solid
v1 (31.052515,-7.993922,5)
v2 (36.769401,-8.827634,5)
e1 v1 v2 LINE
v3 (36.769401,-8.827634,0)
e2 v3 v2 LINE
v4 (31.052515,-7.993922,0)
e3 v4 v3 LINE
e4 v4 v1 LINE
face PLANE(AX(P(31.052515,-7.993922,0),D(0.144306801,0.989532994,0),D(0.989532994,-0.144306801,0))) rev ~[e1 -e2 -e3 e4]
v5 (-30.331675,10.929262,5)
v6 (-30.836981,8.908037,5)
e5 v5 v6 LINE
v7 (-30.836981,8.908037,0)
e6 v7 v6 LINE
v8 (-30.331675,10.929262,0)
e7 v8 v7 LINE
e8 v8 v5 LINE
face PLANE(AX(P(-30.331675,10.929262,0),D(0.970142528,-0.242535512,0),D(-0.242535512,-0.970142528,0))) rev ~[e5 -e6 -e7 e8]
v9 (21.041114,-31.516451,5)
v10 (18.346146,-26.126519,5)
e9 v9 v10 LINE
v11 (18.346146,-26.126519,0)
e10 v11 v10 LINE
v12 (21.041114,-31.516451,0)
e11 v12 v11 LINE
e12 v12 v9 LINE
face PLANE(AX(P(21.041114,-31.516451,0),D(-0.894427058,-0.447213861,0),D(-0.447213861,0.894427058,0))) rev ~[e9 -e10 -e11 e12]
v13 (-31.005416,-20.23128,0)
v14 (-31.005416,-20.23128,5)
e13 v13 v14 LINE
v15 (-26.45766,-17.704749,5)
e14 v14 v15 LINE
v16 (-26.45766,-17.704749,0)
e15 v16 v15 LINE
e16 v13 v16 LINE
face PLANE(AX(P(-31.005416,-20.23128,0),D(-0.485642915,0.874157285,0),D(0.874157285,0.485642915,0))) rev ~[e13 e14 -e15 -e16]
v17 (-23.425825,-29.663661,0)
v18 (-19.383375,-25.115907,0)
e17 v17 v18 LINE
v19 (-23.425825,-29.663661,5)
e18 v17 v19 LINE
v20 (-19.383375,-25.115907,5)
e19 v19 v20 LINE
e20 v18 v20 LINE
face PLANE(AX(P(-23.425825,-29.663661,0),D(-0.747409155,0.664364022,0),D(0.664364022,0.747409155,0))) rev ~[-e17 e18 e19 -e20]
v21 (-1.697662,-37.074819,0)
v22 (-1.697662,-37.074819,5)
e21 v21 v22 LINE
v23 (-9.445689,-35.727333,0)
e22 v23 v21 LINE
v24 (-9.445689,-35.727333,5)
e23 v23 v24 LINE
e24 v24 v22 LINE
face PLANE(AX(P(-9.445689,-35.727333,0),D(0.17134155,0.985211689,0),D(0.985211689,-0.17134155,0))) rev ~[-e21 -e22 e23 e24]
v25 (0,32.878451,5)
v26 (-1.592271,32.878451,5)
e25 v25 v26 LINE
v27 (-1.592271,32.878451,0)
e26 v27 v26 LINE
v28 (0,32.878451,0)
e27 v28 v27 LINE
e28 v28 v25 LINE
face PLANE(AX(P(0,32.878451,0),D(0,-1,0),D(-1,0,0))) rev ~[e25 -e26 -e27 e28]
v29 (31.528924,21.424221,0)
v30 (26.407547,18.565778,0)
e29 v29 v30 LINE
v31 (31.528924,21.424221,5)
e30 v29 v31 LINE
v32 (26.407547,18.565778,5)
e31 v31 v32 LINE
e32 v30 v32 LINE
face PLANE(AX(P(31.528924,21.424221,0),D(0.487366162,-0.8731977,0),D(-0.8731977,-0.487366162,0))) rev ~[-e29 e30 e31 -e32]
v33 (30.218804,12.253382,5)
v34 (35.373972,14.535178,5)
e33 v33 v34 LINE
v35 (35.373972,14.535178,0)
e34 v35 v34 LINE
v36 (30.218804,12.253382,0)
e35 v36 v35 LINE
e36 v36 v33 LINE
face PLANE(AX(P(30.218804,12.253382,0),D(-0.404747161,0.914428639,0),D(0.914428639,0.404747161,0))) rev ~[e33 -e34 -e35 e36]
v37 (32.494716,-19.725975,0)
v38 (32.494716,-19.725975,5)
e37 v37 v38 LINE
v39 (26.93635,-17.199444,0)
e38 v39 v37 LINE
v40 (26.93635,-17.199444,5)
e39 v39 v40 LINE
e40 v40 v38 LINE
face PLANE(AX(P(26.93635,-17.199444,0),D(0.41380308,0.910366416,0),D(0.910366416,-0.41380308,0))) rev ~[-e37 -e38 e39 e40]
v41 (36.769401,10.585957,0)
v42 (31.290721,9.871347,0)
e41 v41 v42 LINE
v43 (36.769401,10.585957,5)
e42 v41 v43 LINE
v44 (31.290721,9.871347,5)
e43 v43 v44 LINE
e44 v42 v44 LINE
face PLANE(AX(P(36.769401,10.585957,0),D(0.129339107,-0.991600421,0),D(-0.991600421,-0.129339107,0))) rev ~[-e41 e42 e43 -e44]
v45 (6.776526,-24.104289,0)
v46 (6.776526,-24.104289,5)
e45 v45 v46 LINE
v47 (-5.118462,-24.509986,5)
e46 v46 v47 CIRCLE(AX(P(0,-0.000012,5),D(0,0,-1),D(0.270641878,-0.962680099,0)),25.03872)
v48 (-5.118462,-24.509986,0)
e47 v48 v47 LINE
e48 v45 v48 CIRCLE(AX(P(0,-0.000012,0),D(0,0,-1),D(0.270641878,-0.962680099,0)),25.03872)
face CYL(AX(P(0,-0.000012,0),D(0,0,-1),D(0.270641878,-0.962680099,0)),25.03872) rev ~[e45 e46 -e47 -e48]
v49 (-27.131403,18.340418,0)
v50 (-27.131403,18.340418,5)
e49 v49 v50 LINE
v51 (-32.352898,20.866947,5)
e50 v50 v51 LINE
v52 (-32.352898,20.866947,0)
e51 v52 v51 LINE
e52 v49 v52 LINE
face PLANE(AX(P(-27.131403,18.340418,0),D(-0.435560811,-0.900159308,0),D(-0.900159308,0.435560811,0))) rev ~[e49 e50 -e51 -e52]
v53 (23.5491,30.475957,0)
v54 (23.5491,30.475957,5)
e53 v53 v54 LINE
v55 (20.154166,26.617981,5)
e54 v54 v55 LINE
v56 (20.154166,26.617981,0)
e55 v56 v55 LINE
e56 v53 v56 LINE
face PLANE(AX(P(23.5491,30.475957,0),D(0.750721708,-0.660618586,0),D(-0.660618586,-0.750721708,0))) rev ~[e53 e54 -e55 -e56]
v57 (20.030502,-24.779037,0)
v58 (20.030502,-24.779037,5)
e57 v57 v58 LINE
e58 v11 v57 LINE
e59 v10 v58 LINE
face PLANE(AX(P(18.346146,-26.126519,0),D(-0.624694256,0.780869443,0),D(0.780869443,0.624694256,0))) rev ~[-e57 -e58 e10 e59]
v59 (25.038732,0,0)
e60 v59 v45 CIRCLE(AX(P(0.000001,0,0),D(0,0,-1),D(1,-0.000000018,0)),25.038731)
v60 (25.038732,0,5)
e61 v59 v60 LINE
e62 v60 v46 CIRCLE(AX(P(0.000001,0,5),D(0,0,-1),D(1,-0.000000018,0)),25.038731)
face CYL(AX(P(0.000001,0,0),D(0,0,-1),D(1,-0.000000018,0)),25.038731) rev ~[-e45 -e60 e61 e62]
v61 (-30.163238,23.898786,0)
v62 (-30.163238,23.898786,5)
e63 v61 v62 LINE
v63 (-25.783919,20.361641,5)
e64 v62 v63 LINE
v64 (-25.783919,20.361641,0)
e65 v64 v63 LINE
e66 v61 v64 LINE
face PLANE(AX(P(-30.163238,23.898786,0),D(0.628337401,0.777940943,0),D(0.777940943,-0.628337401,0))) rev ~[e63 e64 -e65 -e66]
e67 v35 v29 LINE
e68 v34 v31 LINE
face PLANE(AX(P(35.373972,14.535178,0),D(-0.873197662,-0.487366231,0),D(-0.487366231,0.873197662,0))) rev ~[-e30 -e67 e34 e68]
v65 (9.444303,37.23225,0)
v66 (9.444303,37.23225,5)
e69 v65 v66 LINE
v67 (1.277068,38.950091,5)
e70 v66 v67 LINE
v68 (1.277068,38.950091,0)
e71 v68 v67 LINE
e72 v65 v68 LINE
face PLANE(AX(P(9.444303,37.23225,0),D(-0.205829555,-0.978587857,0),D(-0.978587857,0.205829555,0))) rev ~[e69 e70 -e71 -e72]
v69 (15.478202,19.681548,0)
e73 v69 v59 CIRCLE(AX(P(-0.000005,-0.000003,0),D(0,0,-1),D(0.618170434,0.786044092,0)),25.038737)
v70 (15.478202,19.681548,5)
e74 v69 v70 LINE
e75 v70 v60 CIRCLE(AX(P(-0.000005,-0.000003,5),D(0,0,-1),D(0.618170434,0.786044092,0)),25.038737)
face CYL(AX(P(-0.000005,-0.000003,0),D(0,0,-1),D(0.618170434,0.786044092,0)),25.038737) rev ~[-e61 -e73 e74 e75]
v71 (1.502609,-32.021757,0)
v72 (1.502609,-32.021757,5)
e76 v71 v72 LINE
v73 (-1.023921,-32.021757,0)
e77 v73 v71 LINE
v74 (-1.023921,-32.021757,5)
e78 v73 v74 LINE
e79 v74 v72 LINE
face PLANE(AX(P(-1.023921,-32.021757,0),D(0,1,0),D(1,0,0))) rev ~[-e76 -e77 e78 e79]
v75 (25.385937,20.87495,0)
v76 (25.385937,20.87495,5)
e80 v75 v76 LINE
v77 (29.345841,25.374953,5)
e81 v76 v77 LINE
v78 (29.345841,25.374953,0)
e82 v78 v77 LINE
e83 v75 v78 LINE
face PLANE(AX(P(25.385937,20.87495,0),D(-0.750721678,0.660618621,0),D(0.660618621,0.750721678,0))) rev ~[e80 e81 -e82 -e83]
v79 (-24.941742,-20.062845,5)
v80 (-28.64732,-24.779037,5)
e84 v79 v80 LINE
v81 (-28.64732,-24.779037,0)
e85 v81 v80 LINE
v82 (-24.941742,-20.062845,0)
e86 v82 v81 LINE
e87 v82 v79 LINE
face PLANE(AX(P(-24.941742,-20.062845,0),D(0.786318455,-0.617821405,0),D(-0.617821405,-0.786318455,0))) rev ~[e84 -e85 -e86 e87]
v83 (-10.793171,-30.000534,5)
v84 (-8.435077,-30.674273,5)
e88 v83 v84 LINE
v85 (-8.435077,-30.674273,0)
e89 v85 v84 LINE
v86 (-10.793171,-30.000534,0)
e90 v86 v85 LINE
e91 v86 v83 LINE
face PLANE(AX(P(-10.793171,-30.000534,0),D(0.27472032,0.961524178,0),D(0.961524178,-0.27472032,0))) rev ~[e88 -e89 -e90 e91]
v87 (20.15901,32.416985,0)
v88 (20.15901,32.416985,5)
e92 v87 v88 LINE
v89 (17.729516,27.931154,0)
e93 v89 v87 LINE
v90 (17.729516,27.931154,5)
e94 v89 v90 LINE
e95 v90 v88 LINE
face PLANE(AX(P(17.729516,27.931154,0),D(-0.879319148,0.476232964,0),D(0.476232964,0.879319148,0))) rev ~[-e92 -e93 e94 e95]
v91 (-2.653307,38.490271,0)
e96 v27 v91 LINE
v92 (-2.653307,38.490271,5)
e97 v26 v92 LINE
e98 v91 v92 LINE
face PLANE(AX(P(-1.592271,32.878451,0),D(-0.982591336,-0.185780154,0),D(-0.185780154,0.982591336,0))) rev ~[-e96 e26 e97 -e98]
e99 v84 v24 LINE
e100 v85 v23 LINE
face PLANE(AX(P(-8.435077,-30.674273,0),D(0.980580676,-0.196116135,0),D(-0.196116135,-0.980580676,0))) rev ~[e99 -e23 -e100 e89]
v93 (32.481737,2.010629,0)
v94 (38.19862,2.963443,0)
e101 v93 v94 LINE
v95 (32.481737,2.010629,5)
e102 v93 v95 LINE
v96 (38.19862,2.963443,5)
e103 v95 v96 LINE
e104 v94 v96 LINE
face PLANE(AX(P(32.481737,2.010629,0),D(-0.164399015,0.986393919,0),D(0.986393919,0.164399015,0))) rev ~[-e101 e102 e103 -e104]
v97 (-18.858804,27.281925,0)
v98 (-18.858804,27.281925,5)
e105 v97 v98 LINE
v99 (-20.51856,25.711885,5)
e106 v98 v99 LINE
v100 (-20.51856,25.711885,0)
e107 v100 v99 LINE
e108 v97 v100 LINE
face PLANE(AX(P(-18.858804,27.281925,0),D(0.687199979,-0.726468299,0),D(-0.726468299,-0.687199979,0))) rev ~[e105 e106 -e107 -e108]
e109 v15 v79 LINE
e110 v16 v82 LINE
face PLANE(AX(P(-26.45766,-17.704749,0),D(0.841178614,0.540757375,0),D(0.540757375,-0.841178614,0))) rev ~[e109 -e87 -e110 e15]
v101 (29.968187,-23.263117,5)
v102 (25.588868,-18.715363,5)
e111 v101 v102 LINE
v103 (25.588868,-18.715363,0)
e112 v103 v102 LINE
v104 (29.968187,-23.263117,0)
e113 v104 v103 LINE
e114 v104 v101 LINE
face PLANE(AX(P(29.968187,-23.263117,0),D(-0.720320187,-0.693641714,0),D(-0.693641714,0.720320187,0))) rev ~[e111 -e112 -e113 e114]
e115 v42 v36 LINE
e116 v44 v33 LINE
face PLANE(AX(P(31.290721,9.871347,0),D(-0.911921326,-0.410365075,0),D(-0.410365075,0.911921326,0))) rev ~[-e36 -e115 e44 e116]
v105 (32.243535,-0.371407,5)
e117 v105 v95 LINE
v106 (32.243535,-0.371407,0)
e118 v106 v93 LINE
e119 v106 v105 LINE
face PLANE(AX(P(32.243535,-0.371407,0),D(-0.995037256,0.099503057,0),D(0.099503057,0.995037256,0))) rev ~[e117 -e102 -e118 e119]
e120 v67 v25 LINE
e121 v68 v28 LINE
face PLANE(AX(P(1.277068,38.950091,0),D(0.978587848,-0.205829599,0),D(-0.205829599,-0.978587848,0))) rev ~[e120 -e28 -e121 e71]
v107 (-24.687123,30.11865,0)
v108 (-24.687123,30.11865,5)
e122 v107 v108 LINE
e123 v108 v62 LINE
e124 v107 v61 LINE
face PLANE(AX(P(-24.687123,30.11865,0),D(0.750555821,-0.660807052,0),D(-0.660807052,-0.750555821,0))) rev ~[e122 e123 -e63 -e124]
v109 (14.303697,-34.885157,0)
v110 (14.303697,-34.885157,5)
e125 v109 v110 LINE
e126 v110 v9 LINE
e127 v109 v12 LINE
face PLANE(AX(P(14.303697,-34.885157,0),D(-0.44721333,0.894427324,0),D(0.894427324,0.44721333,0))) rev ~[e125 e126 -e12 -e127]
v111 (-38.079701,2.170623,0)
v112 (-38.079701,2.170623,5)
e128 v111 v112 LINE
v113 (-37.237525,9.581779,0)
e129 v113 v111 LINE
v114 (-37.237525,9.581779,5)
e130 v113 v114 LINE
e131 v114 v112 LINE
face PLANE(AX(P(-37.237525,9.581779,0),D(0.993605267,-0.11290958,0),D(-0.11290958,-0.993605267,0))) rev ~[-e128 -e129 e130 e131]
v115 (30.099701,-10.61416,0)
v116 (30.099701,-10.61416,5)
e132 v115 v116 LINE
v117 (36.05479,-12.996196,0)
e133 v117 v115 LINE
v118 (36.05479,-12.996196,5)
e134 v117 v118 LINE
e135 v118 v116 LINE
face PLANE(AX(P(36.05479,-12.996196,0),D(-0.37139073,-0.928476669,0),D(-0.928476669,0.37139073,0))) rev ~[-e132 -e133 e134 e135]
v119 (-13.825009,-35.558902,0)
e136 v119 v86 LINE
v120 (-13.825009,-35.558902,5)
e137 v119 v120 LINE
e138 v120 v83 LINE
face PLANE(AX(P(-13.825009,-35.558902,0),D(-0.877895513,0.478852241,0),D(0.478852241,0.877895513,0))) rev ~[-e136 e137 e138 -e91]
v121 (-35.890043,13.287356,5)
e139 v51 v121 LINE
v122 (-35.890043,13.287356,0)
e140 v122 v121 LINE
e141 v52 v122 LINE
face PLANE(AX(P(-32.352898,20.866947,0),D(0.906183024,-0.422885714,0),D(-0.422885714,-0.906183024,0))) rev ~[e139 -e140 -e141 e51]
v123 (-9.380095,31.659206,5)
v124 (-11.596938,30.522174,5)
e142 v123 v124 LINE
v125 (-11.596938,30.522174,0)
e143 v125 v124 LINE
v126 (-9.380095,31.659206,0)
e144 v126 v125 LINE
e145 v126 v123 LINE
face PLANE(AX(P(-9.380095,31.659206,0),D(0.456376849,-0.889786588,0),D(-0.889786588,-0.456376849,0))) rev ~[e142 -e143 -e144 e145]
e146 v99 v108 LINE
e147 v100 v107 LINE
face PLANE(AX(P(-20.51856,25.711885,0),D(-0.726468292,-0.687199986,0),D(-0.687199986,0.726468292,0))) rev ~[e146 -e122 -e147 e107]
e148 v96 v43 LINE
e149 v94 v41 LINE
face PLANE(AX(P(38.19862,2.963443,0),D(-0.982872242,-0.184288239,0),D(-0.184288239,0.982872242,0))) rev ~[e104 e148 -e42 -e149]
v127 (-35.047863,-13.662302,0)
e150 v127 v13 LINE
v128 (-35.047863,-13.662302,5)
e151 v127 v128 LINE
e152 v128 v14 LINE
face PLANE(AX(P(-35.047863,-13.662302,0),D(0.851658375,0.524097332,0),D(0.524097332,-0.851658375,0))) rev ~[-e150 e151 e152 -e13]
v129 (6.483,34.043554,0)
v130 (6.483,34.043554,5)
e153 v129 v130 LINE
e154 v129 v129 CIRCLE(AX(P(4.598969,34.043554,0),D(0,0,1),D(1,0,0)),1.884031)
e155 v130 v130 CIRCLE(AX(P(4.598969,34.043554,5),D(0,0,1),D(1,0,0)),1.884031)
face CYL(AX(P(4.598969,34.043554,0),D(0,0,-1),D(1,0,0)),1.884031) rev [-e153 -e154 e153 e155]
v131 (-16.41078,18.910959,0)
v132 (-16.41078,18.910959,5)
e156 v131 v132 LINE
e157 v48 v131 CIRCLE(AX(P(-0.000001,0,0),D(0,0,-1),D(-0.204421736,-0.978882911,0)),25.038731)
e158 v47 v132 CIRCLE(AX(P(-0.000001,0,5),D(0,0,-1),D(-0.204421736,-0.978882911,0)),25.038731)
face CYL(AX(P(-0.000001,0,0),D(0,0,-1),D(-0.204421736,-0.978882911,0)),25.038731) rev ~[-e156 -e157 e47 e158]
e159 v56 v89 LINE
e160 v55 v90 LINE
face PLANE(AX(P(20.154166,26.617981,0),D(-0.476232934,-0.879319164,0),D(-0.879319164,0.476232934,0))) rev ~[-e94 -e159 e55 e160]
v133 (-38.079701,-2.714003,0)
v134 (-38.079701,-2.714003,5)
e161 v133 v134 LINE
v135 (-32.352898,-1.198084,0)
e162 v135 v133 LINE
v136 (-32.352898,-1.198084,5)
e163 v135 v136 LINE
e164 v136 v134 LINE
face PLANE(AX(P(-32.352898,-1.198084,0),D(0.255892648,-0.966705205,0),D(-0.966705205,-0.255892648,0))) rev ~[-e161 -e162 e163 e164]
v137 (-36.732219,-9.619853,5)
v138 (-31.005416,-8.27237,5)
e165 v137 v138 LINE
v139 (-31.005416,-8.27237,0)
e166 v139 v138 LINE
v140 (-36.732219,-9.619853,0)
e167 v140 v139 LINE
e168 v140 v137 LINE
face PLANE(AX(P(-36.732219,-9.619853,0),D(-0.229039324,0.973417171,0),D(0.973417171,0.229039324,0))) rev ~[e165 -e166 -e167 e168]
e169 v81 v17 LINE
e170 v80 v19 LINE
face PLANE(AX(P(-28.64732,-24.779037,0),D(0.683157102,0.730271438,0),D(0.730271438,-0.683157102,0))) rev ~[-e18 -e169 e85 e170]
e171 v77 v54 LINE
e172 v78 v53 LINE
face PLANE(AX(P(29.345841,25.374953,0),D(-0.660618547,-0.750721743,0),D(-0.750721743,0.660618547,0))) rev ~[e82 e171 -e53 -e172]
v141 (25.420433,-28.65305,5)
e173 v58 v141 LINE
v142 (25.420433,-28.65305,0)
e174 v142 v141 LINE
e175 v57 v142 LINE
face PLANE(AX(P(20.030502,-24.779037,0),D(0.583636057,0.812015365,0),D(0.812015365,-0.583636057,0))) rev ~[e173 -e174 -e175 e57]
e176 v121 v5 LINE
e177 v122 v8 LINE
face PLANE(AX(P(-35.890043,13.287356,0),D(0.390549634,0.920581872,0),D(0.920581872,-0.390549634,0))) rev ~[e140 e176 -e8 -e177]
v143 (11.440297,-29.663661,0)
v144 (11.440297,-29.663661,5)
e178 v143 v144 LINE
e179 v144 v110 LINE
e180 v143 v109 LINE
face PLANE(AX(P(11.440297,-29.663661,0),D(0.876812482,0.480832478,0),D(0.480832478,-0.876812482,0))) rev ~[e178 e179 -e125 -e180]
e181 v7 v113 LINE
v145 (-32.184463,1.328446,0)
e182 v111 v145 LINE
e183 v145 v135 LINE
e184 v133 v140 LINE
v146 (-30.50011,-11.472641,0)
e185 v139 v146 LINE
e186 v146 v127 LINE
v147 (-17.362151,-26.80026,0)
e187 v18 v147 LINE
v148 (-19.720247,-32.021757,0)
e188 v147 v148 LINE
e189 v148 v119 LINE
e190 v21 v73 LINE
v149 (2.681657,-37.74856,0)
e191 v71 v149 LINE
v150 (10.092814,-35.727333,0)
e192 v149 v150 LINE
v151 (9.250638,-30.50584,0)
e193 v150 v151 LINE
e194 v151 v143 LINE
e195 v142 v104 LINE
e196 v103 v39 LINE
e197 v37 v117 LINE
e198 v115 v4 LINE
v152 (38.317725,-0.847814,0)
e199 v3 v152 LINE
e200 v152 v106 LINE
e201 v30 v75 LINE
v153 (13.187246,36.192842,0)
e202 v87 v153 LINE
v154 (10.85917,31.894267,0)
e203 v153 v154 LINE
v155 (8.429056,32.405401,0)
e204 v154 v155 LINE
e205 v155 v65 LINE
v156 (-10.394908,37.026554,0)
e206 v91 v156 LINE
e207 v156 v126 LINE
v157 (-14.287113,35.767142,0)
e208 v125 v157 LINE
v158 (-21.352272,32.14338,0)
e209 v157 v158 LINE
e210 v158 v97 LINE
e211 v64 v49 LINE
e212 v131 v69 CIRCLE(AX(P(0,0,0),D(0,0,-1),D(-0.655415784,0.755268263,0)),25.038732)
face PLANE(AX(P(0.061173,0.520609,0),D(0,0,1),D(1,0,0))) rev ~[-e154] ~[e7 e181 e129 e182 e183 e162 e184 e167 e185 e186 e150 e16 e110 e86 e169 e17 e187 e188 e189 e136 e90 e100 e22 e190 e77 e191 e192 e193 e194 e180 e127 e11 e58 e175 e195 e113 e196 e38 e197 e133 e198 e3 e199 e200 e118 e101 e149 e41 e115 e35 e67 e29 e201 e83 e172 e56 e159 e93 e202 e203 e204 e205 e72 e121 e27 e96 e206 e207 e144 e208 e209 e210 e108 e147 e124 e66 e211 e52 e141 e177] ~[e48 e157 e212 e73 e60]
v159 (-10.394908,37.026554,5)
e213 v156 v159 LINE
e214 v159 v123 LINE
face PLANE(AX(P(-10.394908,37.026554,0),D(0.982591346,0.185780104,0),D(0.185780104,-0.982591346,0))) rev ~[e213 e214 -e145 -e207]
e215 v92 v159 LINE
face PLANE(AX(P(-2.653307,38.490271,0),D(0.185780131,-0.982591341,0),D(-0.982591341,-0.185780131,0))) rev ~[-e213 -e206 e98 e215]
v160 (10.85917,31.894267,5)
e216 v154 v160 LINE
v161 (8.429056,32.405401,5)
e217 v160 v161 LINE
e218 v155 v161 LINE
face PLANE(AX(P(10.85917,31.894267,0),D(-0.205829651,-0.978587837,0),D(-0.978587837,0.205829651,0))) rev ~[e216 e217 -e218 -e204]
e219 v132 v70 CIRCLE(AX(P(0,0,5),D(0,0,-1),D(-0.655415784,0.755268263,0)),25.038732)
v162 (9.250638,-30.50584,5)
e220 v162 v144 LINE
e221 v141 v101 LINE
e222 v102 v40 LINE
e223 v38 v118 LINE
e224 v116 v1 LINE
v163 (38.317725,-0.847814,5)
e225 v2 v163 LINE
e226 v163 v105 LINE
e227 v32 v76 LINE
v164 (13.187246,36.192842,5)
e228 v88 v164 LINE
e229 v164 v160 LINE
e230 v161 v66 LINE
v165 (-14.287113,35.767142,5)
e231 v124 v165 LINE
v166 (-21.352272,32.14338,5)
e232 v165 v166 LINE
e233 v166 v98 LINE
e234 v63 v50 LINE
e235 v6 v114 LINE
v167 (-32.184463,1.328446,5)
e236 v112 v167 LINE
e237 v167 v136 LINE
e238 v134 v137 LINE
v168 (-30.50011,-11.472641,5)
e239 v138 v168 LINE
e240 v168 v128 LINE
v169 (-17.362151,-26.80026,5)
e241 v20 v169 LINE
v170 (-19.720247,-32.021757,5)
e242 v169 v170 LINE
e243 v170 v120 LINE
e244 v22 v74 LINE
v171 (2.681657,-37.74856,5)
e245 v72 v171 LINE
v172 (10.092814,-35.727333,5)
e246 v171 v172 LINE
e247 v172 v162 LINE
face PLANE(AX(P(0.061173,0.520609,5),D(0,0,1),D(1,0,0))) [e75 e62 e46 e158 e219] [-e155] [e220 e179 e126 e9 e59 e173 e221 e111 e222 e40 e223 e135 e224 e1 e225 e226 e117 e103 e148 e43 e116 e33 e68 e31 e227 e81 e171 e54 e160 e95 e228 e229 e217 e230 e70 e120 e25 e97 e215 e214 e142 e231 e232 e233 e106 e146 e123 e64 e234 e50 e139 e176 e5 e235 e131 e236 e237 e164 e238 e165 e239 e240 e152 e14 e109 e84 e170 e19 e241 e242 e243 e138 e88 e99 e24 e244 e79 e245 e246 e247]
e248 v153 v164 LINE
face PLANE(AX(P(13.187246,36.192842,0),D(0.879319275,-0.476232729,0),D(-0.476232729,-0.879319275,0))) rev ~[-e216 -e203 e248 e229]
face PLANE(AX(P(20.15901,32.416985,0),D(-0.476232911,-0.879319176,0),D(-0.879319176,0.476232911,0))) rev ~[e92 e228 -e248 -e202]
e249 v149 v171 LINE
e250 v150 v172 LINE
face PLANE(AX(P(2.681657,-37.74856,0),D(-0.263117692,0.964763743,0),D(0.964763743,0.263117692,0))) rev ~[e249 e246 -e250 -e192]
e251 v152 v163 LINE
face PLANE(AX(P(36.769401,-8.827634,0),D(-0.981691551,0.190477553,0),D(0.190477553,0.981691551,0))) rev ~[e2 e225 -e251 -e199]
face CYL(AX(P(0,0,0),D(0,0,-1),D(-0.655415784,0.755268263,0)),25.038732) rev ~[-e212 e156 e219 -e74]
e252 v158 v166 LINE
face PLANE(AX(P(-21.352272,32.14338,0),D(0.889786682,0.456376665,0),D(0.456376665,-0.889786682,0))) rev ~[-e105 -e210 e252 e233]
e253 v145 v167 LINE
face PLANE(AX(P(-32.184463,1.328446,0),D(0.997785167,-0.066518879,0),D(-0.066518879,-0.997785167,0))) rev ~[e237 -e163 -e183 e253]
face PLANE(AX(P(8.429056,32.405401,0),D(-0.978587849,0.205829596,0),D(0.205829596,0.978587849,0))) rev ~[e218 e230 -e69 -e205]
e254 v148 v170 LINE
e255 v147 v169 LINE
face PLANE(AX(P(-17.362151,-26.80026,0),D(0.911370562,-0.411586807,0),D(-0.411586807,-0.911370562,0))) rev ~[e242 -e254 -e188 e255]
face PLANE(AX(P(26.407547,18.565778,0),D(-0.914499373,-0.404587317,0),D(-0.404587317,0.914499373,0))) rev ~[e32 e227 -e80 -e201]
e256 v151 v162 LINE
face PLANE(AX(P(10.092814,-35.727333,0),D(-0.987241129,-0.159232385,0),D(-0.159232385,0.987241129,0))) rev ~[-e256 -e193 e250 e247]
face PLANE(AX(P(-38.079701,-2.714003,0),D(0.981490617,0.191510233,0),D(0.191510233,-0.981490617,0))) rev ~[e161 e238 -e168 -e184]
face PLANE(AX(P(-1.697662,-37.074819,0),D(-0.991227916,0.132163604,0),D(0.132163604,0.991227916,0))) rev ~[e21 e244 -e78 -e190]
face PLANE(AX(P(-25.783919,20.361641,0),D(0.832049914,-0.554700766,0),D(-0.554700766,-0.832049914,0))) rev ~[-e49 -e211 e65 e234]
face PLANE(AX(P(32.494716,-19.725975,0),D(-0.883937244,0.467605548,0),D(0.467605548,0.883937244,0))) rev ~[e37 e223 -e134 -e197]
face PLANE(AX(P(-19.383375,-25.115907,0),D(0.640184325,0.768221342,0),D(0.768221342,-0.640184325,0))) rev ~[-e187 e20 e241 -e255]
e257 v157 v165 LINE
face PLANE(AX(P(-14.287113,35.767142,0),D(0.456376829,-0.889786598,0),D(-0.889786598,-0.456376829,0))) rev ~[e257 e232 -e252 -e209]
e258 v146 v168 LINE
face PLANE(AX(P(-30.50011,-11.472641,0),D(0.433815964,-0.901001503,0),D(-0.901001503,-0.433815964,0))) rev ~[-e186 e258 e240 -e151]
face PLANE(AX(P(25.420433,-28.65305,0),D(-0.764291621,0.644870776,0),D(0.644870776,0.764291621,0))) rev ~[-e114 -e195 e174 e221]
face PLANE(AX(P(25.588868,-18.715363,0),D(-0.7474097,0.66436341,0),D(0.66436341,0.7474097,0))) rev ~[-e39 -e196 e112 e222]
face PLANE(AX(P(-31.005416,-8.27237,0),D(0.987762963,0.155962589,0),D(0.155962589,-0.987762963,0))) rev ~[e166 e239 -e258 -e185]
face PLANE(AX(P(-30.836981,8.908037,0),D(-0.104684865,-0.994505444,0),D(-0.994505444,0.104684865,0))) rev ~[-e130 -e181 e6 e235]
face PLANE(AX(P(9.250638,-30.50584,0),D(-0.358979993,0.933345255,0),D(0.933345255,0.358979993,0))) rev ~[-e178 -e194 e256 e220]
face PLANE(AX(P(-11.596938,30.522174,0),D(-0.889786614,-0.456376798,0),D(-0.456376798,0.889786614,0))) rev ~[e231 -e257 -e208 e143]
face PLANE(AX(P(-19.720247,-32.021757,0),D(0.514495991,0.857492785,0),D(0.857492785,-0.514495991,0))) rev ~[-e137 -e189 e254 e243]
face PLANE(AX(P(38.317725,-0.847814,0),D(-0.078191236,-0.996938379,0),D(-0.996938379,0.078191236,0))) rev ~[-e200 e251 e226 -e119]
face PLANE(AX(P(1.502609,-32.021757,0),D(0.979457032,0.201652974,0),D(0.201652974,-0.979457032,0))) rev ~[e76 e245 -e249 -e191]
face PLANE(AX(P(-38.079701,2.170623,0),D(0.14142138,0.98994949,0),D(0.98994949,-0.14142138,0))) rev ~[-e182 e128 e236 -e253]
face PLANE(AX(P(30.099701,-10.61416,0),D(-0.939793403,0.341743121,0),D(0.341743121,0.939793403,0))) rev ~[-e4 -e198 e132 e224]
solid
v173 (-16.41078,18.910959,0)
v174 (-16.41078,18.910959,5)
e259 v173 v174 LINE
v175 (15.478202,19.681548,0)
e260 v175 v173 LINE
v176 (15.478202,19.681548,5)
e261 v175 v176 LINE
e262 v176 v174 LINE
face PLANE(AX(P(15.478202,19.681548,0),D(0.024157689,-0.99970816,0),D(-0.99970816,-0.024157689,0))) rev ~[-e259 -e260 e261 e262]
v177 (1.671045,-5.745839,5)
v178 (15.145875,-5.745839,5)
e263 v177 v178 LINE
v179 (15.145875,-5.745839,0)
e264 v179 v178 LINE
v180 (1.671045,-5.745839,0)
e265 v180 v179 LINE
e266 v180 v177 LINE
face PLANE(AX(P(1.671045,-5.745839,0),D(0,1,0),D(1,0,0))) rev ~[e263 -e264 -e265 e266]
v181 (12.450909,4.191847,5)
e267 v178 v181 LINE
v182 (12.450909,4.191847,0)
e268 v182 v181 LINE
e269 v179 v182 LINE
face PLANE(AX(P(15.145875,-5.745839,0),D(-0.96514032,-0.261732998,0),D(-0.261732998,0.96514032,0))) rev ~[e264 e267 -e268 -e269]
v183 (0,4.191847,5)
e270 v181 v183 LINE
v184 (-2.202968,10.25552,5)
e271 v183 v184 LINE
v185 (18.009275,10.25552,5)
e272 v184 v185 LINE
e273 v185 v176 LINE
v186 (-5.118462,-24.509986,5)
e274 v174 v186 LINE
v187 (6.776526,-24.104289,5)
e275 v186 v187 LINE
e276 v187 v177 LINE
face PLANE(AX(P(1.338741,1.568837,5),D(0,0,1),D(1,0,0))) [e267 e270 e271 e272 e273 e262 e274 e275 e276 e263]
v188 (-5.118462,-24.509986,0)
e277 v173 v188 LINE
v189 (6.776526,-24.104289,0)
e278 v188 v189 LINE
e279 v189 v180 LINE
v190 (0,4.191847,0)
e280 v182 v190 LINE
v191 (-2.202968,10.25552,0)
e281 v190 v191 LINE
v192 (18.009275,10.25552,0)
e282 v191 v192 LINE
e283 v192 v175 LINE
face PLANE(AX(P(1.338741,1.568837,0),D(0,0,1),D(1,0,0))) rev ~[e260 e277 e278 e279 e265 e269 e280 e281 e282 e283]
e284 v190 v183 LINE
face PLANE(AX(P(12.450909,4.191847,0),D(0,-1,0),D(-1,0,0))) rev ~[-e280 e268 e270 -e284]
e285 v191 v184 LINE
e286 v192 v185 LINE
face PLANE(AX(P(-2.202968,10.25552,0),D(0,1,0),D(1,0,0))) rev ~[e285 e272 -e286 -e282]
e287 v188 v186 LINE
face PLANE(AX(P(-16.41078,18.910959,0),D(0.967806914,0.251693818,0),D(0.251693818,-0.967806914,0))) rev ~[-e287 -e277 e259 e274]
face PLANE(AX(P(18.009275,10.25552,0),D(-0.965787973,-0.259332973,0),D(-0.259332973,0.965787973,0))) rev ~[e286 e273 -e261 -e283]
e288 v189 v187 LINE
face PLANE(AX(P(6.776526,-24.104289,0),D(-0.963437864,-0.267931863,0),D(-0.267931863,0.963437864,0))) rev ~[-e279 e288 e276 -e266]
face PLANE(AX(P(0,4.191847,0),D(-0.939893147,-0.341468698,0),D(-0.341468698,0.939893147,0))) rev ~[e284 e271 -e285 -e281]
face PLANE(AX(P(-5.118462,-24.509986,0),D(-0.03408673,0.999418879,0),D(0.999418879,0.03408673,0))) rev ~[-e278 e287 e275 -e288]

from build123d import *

# Parameters (mm, degrees)
F0_R     = 1.884031
F1_DEPTH = 5


with BuildPart() as f1:
    # F0 (on Top) → F1 (new body)
    with BuildSketch(Plane.XY):
        Polygon((-20.51856, 25.711885), (-24.687123, 30.11865), (-30.163238, 23.898786), (-25.783919, 20.361641), (-27.131403, 18.340418), (-32.352898, 20.866947), (-35.890043, 13.287356), (-30.331675, 10.929262), (-30.836981, 8.908037), (-37.237525, 9.581779), (-38.079701, 2.170623), (-32.184463, 1.328446), (-32.352898, -1.198084), (-38.079701, -2.714003), (-36.732219, -9.619853), (-31.005416, -8.27237), (-30.50011, -11.472641), (-35.047863, -13.662302), (-31.005416, -20.23128), (-26.45766, -17.704749), (-24.941742, -20.062845), (-28.64732, -24.779037), (-23.425825, -29.663661), (-19.383375, -25.115907), (-17.362151, -26.80026), (-19.720247, -32.021757), (-13.825009, -35.558902), (-10.793171, -30.000534), (-8.435077, -30.674273), (-9.445689, -35.727333), (-1.697662, -37.074819), (-1.023921, -32.021757), (1.502609, -32.021757), (2.681657, -37.74856), (10.092814, -35.727333), (9.250638, -30.50584), (11.440297, -29.663661), (14.303697, -34.885157), (21.041114, -31.516451), (18.346146, -26.126519), (20.030502, -24.779037), (25.420433, -28.65305), (29.968187, -23.263117), (25.588868, -18.715363), (26.93635, -17.199444), (32.494716, -19.725975), (36.05479, -12.996196), (30.099701, -10.61416), (31.052515, -7.993922), (36.769401, -8.827634), (38.317725, -0.847814), (32.243535, -0.371407), (32.481737, 2.010629), (38.19862, 2.963443), (36.769401, 10.585957), (31.290721, 9.871347), (30.218804, 12.253382), (35.373972, 14.535178), (31.528924, 21.424221), (26.407547, 18.565778), (25.385937, 20.87495), (29.345841, 25.374953), (23.5491, 30.475957), (20.154166, 26.617981), (17.729516, 27.931154), (20.15901, 32.416985), (13.187246, 36.192842), (10.85917, 31.894267), (8.429056, 32.405401), (9.444303, 37.23225), (1.277068, 38.950091), (0, 32.878451), (-1.592271, 32.878451), (-2.653307, 38.490271), (-10.394908, 37.026554), (-9.380095, 31.659206), (-11.596938, 30.522174), (-14.287113, 35.767142), (-21.352272, 32.14338), (-18.858804, 27.281925), align=None)
        with BuildLine():
            ThreePointArc((15.478202, 19.681548), (22.522129, 10.940373), (25.038732, 0))
            ThreePointArc((25.038732, 0), (19.957626, -15.120557), (6.776526, -24.104289))
            ThreePointArc((6.776526, -24.104289), (0.853488, -25.024181), (-5.118462, -24.509986))
            ThreePointArc((-5.118462, -24.509986), (-24.232658, -6.302094), (-16.41078, 18.910959))
            ThreePointArc((-16.41078, 18.910959), (-0.604878, 25.031424), (15.478202, 19.681548))
        make_face(mode=Mode.SUBTRACT)
        with Locations((4.598969, 34.043554)):
            Circle(F0_R, mode=Mode.SUBTRACT)
        Polygon((18.009275, 10.25552), (15.478202, 19.681548), (-16.41078, 18.910959), (-5.118462, -24.509986), (6.776526, -24.104289), (1.671045, -5.745839), (15.145875, -5.745839), (12.450909, 4.191847), (0, 4.191847), (-2.202968, 10.25552), align=None)
    extrude(amount=F1_DEPTH)


solid = f1.part
